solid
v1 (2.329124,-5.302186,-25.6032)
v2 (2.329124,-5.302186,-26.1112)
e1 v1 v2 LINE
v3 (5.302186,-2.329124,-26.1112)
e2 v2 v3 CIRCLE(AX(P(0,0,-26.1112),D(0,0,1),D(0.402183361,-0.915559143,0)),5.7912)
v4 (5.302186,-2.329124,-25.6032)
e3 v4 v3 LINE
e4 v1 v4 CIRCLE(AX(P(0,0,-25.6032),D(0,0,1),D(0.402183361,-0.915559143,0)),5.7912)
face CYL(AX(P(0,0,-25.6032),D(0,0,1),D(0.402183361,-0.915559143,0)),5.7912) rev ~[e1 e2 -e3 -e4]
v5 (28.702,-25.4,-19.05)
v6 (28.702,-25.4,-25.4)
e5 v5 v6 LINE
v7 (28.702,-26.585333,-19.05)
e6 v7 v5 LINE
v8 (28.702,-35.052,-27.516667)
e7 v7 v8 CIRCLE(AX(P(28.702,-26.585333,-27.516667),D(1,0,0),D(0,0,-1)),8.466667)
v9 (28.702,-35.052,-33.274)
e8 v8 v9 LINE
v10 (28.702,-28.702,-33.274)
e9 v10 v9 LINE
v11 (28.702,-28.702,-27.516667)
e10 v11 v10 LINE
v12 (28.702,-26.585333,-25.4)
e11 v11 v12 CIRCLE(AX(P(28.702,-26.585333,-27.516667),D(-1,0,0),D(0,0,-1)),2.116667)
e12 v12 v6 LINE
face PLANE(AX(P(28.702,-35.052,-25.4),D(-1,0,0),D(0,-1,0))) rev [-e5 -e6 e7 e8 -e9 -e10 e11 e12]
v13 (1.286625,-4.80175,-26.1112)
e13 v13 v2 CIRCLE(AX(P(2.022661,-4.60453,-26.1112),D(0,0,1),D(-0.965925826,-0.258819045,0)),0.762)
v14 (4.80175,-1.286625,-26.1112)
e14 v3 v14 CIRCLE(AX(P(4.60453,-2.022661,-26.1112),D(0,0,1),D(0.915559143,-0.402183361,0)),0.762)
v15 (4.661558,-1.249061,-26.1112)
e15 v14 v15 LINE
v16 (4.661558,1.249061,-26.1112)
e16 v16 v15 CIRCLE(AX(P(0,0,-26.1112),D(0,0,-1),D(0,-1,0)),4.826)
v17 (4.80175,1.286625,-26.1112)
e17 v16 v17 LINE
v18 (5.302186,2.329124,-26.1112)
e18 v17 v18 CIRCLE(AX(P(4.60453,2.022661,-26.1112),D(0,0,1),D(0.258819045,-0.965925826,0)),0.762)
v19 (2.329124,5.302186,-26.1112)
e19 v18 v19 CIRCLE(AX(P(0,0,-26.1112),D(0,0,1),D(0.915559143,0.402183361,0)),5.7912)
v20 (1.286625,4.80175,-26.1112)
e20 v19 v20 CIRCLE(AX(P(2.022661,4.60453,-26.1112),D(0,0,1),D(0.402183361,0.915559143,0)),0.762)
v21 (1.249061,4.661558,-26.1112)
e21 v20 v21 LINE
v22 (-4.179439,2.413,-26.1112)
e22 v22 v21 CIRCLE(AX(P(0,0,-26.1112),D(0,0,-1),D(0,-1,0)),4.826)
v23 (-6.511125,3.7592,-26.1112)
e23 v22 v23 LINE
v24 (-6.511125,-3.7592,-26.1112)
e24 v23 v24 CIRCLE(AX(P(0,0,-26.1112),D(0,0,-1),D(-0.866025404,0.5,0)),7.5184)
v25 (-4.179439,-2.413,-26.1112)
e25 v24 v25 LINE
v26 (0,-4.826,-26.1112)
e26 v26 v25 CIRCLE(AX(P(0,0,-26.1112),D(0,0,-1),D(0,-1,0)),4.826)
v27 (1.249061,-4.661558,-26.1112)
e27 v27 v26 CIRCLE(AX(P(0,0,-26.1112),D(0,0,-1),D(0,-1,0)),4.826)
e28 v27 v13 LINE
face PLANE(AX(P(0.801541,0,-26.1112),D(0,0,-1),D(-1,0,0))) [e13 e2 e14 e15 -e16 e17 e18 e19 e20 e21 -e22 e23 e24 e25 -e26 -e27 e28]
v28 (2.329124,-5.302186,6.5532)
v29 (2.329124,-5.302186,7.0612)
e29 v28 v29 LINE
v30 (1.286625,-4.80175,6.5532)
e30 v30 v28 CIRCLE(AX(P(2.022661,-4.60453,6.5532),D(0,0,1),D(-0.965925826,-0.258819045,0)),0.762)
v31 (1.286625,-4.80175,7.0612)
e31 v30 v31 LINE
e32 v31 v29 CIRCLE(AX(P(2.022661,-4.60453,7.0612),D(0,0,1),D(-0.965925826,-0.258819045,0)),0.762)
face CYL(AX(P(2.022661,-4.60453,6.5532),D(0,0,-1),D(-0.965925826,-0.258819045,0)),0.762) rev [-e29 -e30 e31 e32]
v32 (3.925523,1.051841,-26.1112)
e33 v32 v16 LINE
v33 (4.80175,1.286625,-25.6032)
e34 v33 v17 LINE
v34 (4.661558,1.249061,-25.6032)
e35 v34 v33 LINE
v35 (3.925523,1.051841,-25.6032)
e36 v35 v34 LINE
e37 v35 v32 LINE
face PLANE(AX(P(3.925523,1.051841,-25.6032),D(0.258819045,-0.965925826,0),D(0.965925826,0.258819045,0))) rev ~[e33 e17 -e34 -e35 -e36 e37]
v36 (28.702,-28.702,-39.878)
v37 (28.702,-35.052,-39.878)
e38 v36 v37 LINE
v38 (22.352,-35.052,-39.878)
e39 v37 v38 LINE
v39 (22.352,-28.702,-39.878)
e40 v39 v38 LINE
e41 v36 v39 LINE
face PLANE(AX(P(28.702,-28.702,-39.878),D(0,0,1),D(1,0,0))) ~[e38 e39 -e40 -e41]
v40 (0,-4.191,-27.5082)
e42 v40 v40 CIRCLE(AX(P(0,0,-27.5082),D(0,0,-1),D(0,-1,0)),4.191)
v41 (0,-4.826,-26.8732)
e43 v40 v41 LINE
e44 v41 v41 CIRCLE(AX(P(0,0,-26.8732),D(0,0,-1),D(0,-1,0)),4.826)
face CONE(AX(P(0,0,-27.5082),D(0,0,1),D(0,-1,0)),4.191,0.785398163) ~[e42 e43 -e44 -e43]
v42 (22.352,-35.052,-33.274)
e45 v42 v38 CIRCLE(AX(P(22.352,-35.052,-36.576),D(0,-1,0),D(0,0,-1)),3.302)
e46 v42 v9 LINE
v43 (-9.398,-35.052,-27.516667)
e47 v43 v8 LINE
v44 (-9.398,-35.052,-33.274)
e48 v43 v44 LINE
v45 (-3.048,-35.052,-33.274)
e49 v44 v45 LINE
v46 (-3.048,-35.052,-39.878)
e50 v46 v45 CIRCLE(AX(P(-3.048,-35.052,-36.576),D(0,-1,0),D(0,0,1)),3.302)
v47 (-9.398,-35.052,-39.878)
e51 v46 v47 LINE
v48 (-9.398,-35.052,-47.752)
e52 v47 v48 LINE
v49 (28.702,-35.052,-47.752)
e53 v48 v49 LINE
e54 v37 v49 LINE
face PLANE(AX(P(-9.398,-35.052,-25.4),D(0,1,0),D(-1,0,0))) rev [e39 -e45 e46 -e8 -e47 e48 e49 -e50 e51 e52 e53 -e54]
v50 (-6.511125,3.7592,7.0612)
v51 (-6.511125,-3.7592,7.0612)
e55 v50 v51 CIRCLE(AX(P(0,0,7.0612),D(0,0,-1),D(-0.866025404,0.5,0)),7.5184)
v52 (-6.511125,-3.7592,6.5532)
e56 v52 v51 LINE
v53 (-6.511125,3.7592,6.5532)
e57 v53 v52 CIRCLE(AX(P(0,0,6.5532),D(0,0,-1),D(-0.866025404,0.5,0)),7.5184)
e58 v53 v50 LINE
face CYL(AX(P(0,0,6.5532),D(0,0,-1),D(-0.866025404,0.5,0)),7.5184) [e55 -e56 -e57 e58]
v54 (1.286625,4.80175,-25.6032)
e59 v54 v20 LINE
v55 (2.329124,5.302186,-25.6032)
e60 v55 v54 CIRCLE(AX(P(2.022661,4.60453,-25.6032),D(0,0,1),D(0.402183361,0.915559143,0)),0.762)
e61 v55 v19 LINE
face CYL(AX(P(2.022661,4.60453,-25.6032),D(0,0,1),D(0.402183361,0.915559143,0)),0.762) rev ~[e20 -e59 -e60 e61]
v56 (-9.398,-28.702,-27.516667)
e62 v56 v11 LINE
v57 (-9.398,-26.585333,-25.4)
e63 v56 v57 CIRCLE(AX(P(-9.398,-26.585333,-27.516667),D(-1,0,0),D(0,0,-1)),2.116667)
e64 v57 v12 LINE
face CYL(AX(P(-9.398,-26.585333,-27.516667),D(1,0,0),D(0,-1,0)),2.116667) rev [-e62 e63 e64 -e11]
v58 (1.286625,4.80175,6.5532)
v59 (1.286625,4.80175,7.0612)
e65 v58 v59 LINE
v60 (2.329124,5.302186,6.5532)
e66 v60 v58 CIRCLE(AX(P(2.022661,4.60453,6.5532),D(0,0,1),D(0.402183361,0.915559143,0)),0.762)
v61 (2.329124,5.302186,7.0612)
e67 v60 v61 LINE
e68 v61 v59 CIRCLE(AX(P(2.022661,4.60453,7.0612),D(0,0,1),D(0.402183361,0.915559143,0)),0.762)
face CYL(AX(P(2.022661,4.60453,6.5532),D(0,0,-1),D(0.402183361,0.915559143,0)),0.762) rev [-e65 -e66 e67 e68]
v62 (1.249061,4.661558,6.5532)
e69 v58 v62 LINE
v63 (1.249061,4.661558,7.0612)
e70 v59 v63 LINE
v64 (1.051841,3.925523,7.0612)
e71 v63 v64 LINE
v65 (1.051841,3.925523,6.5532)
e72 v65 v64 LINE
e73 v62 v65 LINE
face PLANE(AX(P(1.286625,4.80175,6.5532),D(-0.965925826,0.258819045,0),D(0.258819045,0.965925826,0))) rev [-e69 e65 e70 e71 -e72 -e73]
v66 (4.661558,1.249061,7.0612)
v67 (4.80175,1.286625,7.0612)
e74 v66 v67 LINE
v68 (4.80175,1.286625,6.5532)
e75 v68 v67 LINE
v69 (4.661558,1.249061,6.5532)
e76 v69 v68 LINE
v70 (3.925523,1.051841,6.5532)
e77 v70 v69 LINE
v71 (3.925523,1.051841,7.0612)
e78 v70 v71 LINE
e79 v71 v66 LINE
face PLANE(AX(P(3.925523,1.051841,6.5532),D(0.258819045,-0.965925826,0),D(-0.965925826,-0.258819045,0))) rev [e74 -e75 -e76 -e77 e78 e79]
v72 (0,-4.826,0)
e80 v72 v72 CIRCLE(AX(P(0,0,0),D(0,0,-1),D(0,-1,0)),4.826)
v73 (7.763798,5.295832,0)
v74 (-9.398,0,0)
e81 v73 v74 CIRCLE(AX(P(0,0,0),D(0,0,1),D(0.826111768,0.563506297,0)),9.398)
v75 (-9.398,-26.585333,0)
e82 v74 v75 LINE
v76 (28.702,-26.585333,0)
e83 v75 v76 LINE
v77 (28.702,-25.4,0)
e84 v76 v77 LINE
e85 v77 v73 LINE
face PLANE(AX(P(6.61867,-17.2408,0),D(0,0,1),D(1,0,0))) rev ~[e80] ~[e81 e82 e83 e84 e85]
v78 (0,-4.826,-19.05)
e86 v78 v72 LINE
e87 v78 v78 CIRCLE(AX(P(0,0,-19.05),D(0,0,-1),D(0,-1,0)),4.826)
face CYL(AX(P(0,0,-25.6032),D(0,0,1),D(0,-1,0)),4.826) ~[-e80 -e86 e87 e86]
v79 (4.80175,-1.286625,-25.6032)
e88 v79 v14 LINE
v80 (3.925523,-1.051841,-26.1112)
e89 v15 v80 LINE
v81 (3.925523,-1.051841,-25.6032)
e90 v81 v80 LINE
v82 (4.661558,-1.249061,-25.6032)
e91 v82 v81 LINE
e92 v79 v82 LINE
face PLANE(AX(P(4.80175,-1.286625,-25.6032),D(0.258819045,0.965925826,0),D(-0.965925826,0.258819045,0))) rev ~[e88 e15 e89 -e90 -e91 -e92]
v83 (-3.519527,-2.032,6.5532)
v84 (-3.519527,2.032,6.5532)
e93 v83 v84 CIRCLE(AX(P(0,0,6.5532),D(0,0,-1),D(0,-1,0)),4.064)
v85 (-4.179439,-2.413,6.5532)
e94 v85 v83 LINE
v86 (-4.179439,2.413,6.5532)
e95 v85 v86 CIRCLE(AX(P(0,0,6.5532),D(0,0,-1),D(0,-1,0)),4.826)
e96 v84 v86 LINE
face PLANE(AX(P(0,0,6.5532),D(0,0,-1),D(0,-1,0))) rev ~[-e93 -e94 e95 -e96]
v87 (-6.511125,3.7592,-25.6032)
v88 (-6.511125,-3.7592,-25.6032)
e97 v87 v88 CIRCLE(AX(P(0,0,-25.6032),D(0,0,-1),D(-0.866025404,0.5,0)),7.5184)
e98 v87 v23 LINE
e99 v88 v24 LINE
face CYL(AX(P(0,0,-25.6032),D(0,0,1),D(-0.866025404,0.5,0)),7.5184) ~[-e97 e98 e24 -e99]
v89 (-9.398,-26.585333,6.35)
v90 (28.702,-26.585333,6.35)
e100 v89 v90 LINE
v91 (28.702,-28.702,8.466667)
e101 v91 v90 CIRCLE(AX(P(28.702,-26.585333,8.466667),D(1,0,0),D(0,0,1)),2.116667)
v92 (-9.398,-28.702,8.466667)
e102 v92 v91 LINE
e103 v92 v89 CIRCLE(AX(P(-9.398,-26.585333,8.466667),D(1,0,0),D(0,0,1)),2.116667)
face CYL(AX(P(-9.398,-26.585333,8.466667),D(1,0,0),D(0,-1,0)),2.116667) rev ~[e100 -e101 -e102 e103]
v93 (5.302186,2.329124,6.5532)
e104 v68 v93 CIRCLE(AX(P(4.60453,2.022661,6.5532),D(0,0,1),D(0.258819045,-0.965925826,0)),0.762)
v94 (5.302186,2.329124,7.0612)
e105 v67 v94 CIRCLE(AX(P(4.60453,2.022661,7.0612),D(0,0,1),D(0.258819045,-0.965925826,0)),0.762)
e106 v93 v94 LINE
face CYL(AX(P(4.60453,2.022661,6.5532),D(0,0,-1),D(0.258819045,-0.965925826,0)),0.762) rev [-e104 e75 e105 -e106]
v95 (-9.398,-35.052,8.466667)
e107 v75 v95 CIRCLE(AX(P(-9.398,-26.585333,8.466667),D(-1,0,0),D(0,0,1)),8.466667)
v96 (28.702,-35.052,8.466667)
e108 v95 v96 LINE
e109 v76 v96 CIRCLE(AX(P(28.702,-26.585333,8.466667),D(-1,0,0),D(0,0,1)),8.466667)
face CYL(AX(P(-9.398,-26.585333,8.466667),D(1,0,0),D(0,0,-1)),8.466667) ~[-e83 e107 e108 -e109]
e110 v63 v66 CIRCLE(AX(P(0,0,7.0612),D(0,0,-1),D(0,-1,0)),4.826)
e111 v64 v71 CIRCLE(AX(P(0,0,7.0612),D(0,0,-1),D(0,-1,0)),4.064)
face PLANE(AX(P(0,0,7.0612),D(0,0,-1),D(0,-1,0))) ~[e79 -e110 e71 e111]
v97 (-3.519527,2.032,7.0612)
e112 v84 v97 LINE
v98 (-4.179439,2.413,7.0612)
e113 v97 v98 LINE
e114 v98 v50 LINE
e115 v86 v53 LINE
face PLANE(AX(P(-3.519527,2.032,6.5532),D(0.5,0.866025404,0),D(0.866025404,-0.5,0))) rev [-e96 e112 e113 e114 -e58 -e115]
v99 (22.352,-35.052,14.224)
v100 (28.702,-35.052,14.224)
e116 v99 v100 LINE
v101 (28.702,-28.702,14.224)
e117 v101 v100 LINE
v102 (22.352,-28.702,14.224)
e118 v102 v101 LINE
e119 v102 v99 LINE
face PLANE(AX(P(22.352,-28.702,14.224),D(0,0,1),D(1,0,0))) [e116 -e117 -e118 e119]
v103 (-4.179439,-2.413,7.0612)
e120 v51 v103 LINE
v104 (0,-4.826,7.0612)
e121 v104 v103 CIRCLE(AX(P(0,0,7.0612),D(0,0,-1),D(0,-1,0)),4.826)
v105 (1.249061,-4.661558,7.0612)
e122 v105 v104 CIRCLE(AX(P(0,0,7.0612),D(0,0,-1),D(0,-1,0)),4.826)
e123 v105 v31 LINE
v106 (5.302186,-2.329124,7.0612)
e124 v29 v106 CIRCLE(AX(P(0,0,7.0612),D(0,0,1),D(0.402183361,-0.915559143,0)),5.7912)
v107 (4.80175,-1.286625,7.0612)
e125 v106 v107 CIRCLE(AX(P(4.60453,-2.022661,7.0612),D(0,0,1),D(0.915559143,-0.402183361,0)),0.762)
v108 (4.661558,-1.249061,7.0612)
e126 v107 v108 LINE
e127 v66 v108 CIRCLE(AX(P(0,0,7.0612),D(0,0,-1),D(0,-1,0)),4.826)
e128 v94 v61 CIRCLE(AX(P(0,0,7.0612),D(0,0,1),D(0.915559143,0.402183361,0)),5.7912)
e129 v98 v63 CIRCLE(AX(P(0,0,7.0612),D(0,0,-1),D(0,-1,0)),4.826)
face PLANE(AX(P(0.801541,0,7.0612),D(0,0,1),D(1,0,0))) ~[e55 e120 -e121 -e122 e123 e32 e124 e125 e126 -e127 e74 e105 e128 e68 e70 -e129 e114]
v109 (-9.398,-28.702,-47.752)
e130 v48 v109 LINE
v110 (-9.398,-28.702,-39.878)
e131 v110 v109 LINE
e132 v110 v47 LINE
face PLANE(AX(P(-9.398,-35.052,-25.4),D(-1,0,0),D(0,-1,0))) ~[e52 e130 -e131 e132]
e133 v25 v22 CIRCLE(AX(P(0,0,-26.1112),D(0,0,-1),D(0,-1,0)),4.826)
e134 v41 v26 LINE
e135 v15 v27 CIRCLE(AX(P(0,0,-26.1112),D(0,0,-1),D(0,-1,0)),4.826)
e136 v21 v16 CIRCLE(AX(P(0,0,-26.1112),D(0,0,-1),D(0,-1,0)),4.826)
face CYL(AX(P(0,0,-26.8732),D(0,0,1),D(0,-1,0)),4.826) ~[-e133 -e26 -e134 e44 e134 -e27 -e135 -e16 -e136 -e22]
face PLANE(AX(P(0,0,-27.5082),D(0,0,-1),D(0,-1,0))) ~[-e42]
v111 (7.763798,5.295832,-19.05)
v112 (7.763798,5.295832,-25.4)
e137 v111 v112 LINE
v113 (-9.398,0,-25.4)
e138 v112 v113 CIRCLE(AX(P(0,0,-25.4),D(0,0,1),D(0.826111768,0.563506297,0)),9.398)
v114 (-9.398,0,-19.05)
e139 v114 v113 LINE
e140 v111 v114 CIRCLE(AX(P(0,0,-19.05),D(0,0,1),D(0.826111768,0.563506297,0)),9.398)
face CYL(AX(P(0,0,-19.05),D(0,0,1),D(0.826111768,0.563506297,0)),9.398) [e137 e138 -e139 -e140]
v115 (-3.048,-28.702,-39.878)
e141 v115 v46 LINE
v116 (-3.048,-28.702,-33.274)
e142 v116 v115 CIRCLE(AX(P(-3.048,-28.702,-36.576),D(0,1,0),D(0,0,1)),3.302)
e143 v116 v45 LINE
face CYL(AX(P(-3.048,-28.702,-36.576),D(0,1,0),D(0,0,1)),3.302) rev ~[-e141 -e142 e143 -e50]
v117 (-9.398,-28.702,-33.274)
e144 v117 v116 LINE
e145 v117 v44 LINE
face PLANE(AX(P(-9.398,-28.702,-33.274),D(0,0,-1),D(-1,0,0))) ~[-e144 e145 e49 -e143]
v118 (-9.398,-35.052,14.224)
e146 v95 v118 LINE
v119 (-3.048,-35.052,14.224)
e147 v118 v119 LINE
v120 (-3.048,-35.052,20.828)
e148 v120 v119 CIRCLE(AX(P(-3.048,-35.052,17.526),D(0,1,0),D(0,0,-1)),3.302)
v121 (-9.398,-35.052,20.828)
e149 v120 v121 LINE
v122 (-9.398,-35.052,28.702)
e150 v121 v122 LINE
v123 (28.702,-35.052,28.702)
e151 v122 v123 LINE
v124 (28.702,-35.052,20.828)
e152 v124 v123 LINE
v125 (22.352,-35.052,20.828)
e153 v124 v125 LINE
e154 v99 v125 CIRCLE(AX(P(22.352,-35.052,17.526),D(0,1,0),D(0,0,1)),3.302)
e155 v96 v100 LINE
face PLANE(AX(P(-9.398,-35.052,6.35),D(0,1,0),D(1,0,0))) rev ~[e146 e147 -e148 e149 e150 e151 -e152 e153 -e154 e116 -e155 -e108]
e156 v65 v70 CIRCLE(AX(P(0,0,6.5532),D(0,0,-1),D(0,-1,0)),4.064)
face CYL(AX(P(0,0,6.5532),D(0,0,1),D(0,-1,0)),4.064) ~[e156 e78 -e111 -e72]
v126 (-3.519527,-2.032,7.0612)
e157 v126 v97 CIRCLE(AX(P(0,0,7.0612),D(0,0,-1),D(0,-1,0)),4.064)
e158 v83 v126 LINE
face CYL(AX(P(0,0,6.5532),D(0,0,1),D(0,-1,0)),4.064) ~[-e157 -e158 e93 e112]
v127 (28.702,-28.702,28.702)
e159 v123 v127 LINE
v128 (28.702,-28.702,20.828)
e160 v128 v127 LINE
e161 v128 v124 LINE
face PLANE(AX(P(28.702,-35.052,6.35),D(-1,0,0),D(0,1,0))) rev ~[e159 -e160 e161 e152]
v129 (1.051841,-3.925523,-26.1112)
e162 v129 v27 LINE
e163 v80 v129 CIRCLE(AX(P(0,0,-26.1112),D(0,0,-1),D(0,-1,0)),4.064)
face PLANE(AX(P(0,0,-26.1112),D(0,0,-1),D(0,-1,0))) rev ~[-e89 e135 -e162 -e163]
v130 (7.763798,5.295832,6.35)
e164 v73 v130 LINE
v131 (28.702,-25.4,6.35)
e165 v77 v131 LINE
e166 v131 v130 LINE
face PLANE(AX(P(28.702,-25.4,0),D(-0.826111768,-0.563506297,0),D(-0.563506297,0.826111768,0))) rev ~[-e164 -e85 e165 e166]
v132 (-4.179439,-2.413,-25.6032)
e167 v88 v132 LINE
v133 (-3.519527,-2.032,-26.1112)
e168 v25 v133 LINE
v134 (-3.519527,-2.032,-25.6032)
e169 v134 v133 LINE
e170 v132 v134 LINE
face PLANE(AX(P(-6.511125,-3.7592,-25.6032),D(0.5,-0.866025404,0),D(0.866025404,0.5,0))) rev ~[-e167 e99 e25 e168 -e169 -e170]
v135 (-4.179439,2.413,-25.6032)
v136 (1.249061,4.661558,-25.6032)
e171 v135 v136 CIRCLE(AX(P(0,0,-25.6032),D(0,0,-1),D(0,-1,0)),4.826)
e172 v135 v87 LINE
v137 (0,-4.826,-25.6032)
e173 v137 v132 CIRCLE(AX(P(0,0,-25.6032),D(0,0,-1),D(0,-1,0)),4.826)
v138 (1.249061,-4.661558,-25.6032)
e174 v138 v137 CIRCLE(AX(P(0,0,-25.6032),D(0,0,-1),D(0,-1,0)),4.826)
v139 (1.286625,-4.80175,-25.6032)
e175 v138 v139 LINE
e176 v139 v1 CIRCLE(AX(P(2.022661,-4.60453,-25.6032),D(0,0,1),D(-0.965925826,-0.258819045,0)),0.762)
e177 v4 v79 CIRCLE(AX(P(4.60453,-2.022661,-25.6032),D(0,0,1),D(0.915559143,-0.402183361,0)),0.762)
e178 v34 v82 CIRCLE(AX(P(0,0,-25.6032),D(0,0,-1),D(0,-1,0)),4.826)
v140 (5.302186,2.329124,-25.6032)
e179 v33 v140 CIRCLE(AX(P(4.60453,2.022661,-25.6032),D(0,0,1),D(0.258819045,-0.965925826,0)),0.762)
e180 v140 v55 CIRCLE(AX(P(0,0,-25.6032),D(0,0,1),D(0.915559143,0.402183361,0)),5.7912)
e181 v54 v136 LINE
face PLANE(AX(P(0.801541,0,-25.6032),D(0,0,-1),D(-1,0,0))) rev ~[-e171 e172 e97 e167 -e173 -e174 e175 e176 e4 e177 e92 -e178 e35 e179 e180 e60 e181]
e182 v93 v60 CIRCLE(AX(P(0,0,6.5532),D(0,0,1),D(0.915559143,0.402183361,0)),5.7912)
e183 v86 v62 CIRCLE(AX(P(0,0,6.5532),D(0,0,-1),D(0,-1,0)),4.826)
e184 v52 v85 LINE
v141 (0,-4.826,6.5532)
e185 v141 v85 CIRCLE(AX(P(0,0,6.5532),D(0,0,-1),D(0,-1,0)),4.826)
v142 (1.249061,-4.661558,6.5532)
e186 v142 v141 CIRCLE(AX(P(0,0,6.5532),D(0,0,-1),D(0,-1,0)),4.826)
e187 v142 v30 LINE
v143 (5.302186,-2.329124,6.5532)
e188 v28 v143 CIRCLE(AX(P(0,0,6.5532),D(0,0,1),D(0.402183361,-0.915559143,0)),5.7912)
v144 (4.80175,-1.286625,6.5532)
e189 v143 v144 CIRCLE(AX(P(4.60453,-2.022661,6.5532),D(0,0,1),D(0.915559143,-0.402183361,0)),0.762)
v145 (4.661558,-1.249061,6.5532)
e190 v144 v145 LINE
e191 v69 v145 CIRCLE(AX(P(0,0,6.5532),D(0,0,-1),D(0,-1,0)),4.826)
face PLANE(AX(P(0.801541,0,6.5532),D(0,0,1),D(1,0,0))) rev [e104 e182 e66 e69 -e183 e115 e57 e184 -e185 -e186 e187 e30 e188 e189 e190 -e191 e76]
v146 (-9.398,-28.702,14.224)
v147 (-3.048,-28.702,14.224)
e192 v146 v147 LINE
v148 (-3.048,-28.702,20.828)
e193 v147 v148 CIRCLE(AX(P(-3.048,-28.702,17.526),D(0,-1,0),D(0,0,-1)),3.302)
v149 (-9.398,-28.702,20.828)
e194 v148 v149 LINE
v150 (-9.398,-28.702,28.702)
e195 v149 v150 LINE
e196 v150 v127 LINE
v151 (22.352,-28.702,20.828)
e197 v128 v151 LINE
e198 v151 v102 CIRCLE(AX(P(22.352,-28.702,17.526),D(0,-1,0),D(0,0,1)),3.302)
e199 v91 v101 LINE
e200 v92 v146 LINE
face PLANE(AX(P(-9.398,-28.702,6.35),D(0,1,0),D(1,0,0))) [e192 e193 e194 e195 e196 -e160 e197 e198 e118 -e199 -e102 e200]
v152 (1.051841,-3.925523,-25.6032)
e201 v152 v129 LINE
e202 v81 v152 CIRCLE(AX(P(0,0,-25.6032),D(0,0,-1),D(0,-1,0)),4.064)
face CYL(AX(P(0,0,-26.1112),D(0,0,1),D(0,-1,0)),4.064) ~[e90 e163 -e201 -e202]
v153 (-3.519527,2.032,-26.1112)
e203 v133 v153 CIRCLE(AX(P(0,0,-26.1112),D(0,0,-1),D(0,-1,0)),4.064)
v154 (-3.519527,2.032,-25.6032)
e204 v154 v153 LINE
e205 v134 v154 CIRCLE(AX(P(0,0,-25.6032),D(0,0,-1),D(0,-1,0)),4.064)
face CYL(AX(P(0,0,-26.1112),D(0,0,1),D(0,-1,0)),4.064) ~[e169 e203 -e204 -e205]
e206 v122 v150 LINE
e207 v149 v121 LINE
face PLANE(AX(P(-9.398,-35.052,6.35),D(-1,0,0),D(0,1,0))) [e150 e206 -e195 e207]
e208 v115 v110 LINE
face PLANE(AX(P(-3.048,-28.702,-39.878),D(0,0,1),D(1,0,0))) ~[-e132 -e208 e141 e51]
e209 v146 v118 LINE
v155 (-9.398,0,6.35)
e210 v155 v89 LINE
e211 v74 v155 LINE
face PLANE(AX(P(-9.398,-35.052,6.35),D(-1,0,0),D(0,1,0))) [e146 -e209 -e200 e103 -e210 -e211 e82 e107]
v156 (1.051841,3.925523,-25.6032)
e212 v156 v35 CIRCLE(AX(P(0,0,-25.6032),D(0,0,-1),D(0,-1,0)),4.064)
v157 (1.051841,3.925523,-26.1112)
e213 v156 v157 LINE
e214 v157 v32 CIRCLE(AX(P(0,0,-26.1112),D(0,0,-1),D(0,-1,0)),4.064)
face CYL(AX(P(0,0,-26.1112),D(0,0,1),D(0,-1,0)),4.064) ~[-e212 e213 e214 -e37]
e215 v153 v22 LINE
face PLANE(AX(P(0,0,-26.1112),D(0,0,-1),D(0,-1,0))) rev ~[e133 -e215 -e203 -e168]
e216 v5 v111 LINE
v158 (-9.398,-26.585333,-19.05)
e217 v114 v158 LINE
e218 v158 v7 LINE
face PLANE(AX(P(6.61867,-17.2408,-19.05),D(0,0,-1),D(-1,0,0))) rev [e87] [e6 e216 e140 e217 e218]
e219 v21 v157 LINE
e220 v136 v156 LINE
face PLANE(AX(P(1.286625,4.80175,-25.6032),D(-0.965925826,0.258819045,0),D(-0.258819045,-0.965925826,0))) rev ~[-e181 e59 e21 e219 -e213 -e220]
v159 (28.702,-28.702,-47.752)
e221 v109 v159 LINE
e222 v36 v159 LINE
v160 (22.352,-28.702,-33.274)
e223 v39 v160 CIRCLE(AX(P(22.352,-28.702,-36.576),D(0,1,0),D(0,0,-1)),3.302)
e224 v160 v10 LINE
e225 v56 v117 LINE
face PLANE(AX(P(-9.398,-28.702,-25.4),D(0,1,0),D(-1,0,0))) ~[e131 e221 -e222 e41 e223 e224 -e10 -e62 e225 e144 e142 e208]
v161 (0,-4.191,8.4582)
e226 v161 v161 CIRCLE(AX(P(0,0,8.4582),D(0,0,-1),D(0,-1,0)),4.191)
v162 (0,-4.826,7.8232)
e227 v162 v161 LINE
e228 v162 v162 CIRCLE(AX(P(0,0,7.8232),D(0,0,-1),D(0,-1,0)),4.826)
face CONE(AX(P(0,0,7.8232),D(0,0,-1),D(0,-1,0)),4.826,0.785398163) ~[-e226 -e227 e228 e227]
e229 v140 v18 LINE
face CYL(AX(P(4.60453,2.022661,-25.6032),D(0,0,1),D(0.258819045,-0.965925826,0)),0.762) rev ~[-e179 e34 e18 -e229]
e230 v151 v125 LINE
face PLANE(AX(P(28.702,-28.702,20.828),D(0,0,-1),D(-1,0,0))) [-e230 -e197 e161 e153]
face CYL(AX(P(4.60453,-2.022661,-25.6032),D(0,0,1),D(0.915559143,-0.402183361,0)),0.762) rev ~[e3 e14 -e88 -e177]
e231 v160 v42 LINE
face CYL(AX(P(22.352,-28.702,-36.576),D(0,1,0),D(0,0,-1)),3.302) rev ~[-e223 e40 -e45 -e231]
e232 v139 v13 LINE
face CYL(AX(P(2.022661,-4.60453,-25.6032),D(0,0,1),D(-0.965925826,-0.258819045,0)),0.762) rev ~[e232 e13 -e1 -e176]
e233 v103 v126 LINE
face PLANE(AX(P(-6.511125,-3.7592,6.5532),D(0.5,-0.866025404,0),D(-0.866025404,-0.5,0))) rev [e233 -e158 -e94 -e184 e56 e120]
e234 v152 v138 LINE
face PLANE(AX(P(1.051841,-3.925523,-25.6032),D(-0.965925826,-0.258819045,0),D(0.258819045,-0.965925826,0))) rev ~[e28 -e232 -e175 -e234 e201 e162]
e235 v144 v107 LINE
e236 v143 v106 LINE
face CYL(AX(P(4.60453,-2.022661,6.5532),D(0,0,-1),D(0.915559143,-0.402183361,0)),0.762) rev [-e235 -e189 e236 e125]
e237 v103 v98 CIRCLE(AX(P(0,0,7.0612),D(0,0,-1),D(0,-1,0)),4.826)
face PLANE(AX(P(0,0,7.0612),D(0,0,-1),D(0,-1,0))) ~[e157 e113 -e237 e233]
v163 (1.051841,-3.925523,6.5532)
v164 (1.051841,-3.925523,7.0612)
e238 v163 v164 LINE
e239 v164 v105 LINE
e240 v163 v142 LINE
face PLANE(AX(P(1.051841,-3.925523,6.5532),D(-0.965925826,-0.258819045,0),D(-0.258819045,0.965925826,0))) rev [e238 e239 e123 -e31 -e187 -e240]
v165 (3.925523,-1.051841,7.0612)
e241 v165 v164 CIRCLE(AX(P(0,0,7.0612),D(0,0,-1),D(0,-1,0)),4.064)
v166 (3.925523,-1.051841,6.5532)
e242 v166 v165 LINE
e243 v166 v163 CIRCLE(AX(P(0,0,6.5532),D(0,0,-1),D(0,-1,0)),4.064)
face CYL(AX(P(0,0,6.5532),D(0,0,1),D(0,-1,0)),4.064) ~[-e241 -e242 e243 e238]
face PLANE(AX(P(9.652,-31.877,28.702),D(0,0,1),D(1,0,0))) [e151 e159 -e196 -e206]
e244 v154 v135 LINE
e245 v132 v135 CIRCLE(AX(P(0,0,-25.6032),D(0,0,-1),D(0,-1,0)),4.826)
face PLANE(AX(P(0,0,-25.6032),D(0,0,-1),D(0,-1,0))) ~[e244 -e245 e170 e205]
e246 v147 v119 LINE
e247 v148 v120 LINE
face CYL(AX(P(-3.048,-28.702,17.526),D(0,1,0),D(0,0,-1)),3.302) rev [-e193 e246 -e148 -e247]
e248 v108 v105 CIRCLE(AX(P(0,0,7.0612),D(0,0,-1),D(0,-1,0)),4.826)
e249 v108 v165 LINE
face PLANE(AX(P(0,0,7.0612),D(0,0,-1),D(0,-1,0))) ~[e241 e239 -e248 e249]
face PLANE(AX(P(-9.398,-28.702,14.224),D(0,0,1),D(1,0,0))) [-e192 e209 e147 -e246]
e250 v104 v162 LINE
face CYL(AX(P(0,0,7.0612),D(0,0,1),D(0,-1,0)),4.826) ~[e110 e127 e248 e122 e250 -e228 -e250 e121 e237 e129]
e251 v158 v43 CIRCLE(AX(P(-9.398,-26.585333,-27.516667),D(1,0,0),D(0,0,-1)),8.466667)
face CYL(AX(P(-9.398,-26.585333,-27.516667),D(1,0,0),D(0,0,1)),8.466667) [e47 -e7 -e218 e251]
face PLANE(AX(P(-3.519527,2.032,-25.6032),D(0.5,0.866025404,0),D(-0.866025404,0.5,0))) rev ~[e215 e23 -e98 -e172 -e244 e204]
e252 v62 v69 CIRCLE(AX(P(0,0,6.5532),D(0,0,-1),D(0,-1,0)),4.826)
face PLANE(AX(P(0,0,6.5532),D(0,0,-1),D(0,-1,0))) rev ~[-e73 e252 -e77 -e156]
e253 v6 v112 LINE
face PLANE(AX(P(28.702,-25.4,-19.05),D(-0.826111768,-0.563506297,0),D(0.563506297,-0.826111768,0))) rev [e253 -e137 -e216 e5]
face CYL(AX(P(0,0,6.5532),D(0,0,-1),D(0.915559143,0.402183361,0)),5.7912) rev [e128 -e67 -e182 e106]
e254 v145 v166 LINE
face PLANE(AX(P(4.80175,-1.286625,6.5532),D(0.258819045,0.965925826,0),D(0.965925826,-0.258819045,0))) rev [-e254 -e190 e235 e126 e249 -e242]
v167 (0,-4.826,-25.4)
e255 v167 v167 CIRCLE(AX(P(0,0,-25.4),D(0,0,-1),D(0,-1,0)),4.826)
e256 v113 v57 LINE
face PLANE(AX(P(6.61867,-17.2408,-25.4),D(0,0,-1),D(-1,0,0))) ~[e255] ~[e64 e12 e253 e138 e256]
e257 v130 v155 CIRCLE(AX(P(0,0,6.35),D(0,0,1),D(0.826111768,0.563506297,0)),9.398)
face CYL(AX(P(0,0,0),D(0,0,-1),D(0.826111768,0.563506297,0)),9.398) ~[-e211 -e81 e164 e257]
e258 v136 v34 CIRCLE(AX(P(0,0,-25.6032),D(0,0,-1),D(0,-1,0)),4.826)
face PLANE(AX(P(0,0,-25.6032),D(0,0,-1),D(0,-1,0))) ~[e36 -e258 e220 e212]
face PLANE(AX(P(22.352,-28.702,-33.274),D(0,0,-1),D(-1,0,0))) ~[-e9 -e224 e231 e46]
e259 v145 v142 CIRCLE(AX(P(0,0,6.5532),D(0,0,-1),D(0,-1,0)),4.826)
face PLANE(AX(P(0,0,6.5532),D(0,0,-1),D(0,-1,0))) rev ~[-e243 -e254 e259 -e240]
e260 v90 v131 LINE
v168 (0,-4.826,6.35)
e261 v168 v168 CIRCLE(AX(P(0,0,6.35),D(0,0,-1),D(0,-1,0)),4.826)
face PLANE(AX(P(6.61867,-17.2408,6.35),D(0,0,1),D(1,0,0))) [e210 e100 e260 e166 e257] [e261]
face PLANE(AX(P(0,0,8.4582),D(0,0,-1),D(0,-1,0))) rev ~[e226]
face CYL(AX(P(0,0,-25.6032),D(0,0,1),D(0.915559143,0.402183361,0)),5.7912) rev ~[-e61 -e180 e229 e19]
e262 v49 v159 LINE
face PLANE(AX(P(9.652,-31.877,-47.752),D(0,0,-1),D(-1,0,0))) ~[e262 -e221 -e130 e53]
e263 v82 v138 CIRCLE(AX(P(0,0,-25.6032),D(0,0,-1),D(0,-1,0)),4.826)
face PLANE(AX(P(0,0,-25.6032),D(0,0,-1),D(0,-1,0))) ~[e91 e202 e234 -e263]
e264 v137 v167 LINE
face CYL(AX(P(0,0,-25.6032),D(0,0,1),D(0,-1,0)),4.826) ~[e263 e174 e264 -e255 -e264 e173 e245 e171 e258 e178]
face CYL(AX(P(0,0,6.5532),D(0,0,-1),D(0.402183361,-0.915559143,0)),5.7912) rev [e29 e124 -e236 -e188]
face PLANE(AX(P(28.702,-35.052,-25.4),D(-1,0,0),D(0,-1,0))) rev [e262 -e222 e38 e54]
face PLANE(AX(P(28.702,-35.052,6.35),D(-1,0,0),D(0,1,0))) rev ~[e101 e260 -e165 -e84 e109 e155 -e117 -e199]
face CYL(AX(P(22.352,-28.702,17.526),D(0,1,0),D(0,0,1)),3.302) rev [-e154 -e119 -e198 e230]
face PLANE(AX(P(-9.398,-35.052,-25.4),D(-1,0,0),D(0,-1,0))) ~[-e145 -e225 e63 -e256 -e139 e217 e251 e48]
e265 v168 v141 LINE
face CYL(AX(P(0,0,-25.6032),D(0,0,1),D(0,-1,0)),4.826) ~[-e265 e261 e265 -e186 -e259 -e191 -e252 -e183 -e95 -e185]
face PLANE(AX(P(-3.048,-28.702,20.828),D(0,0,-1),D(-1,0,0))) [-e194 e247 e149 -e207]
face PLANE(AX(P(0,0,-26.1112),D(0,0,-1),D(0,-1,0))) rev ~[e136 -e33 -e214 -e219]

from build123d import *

# Parameters (mm, degrees)
SKETCH3_R           = 4.826
BOSS_EXTRUDE1_DEPTH = 6.35
SKETCH4_W           = 38.1
SKETCH4_H           = 6.35
BOSS_EXTRUDE2_DEPTH = 22.352
CUT_EXTRUDE1_DEPTH  = 56.67063506
FILLET1_R           = 2.116666667
FILLET2_R           = 8.466666667
BOSS_EXTRUDE3_DEPTH = 0.508


with BuildPart() as part:
    # Sketch3 → Boss-Extrude1 (new body)
    with BuildSketch(Plane.XY):
        with BuildLine():
            Line((-9.398, 0), (-9.398, -35.052))
            Line((-9.398, -35.052), (28.702, -35.052))
            Line((28.702, -35.052), (28.702, -25.4))
            Line((28.702, -25.4), (7.763798393, 5.295832184))
            ThreePointArc((7.763798393, 5.295832184), (-2.771121317, 8.980160948), (-9.398, 0))
        make_face()
        Circle(SKETCH3_R, mode=Mode.SUBTRACT)
    extrude(amount=BOSS_EXTRUDE1_DEPTH)

    # Sketch4 → Boss-Extrude2 (add)
    with BuildSketch(Plane.XY.offset(6.35)):
        with Locations((9.652, -31.877)):
            Rectangle(SKETCH4_W, SKETCH4_H)
    extrude(amount=BOSS_EXTRUDE2_DEPTH)

    # Sketch5 → Cut-Extrude1 (cut, through all)
    with BuildSketch(Plane(origin=(0, -28.702, 0), x_dir=(1, 0, 0), z_dir=(0, 1, 0))):
        with BuildLine():
            Line((-3.048, -20.828), (-9.398, -20.828))
            Line((-9.398, -20.828), (-9.398, -14.224))
            Line((-9.398, -14.224), (-3.048, -14.224))
            ThreePointArc((-3.048, -14.224), (0.254, -17.526), (-3.048, -20.828))
        make_face()
        with BuildLine():
            Line((22.352, -14.224), (28.702, -14.224))
            Line((28.702, -14.224), (28.702, -20.828))
            Line((28.702, -20.828), (22.352, -20.828))
            ThreePointArc((22.352, -20.828), (19.05, -17.526), (22.352, -14.224))
        make_face()
    extrude(amount=-CUT_EXTRUDE1_DEPTH, mode=Mode.SUBTRACT)

    # Fillet1
    fillet1_edges = [part.edges().sort_by_distance(p)[0] for p in [
        (9.652, -28.702, 6.35),
    ]]
    fillet(fillet1_edges, radius=FILLET1_R)

    # Fillet2
    fillet2_edges = [part.edges().sort_by_distance(p)[0] for p in [
        (9.652, -35.052, 0),
    ]]
    fillet(fillet2_edges, radius=FILLET2_R)


with BuildPart() as body_2:
    # Mirror2: mirrored copy
    add(part.part.mirror(Plane.XY.offset(-9.525)))


with BuildPart() as part_1:
    add(part.part)

    add(body_2.part)  # Revolve1 merges body 2
    # Sketch6 → Revolve1 (revolve)
    with BuildSketch(Plane(origin=(0, 0, 0), x_dir=(0, 0, -1), z_dir=(1, 0, 0)), mode=Mode.PRIVATE) as revolve1_sk:
        Polygon((-8.4582, 0), (27.5082, 0), (27.5082, 4.191), (26.8732, 4.826), (26.1112, 4.826), (26.1112, 4.064), (25.6032, 4.064), (25.6032, 4.826), (-6.5532, 4.826), (-6.5532, 4.064), (-7.0612, 4.064), (-7.0612, 4.826), (-7.8232, 4.826), (-8.4582, 4.191), align=None)
    revolve(revolve1_sk.sketch.rotate(Axis((0, 0, 8.4582), (0, 0, -1)), 180), axis=Axis((0, 0, 8.4582), (0, 0, -1)))

    # Sketch7 → Boss-Extrude3 (add)
    with BuildSketch(Plane(origin=(0, 0, -25.6032), x_dir=(-1, 0, 0), z_dir=(0, 0, -1))):
        with BuildLine():
            Line((3.519527241, 2.032), (6.511125396, 3.7592))
            ThreePointArc((6.511125396, 3.7592), (-7.5184, 0), (6.511125396, -3.7592))
            Line((6.511125396, -3.7592), (3.519527241, -2.032))
            ThreePointArc((3.519527241, -2.032), (1.555225469, -3.75464642), (-1.051840599, -3.925522558))
            Line((-1.051840599, -3.925522558), (-1.286625076, -4.801750155))
            ThreePointArc((-1.286625076, -4.801750155), (-1.692900021, -5.291481271), (-2.329124277, -5.30218611))
            ThreePointArc((-2.329124277, -5.30218611), (-4.094996791, -4.094996791), (-5.30218611, -2.329124277))
            ThreePointArc((-5.30218611, -2.329124277), (-5.291481271, -1.692900021), (-4.801750155, -1.286625076))
            Line((-4.801750155, -1.286625076), (-3.925522558, -1.051840599))
            ThreePointArc((-3.925522558, -1.051840599), (-4.064, 0), (-3.925522558, 1.051840599))
            Line((-3.925522558, 1.051840599), (-4.801750155, 1.286625076))
            ThreePointArc((-4.801750155, 1.286625076), (-5.291481271, 1.692900021), (-5.30218611, 2.329124277))
            ThreePointArc((-5.30218611, 2.329124277), (-4.094996791, 4.094996791), (-2.329124277, 5.30218611))
            ThreePointArc((-2.329124277, 5.30218611), (-1.692900021, 5.291481271), (-1.286625076, 4.801750155))
            Line((-1.286625076, 4.801750155), (-1.051840599, 3.925522558))
            ThreePointArc((-1.051840599, 3.925522558), (1.555225469, 3.75464642), (3.519527241, 2.032))
        make_face()
    boss_extrude3 = extrude(amount=BOSS_EXTRUDE3_DEPTH)

    # Mirror3: Boss-Extrude3 across plane
    add(boss_extrude3.mirror(Plane.XY.offset(-9.525)))


solid = part_1.part
